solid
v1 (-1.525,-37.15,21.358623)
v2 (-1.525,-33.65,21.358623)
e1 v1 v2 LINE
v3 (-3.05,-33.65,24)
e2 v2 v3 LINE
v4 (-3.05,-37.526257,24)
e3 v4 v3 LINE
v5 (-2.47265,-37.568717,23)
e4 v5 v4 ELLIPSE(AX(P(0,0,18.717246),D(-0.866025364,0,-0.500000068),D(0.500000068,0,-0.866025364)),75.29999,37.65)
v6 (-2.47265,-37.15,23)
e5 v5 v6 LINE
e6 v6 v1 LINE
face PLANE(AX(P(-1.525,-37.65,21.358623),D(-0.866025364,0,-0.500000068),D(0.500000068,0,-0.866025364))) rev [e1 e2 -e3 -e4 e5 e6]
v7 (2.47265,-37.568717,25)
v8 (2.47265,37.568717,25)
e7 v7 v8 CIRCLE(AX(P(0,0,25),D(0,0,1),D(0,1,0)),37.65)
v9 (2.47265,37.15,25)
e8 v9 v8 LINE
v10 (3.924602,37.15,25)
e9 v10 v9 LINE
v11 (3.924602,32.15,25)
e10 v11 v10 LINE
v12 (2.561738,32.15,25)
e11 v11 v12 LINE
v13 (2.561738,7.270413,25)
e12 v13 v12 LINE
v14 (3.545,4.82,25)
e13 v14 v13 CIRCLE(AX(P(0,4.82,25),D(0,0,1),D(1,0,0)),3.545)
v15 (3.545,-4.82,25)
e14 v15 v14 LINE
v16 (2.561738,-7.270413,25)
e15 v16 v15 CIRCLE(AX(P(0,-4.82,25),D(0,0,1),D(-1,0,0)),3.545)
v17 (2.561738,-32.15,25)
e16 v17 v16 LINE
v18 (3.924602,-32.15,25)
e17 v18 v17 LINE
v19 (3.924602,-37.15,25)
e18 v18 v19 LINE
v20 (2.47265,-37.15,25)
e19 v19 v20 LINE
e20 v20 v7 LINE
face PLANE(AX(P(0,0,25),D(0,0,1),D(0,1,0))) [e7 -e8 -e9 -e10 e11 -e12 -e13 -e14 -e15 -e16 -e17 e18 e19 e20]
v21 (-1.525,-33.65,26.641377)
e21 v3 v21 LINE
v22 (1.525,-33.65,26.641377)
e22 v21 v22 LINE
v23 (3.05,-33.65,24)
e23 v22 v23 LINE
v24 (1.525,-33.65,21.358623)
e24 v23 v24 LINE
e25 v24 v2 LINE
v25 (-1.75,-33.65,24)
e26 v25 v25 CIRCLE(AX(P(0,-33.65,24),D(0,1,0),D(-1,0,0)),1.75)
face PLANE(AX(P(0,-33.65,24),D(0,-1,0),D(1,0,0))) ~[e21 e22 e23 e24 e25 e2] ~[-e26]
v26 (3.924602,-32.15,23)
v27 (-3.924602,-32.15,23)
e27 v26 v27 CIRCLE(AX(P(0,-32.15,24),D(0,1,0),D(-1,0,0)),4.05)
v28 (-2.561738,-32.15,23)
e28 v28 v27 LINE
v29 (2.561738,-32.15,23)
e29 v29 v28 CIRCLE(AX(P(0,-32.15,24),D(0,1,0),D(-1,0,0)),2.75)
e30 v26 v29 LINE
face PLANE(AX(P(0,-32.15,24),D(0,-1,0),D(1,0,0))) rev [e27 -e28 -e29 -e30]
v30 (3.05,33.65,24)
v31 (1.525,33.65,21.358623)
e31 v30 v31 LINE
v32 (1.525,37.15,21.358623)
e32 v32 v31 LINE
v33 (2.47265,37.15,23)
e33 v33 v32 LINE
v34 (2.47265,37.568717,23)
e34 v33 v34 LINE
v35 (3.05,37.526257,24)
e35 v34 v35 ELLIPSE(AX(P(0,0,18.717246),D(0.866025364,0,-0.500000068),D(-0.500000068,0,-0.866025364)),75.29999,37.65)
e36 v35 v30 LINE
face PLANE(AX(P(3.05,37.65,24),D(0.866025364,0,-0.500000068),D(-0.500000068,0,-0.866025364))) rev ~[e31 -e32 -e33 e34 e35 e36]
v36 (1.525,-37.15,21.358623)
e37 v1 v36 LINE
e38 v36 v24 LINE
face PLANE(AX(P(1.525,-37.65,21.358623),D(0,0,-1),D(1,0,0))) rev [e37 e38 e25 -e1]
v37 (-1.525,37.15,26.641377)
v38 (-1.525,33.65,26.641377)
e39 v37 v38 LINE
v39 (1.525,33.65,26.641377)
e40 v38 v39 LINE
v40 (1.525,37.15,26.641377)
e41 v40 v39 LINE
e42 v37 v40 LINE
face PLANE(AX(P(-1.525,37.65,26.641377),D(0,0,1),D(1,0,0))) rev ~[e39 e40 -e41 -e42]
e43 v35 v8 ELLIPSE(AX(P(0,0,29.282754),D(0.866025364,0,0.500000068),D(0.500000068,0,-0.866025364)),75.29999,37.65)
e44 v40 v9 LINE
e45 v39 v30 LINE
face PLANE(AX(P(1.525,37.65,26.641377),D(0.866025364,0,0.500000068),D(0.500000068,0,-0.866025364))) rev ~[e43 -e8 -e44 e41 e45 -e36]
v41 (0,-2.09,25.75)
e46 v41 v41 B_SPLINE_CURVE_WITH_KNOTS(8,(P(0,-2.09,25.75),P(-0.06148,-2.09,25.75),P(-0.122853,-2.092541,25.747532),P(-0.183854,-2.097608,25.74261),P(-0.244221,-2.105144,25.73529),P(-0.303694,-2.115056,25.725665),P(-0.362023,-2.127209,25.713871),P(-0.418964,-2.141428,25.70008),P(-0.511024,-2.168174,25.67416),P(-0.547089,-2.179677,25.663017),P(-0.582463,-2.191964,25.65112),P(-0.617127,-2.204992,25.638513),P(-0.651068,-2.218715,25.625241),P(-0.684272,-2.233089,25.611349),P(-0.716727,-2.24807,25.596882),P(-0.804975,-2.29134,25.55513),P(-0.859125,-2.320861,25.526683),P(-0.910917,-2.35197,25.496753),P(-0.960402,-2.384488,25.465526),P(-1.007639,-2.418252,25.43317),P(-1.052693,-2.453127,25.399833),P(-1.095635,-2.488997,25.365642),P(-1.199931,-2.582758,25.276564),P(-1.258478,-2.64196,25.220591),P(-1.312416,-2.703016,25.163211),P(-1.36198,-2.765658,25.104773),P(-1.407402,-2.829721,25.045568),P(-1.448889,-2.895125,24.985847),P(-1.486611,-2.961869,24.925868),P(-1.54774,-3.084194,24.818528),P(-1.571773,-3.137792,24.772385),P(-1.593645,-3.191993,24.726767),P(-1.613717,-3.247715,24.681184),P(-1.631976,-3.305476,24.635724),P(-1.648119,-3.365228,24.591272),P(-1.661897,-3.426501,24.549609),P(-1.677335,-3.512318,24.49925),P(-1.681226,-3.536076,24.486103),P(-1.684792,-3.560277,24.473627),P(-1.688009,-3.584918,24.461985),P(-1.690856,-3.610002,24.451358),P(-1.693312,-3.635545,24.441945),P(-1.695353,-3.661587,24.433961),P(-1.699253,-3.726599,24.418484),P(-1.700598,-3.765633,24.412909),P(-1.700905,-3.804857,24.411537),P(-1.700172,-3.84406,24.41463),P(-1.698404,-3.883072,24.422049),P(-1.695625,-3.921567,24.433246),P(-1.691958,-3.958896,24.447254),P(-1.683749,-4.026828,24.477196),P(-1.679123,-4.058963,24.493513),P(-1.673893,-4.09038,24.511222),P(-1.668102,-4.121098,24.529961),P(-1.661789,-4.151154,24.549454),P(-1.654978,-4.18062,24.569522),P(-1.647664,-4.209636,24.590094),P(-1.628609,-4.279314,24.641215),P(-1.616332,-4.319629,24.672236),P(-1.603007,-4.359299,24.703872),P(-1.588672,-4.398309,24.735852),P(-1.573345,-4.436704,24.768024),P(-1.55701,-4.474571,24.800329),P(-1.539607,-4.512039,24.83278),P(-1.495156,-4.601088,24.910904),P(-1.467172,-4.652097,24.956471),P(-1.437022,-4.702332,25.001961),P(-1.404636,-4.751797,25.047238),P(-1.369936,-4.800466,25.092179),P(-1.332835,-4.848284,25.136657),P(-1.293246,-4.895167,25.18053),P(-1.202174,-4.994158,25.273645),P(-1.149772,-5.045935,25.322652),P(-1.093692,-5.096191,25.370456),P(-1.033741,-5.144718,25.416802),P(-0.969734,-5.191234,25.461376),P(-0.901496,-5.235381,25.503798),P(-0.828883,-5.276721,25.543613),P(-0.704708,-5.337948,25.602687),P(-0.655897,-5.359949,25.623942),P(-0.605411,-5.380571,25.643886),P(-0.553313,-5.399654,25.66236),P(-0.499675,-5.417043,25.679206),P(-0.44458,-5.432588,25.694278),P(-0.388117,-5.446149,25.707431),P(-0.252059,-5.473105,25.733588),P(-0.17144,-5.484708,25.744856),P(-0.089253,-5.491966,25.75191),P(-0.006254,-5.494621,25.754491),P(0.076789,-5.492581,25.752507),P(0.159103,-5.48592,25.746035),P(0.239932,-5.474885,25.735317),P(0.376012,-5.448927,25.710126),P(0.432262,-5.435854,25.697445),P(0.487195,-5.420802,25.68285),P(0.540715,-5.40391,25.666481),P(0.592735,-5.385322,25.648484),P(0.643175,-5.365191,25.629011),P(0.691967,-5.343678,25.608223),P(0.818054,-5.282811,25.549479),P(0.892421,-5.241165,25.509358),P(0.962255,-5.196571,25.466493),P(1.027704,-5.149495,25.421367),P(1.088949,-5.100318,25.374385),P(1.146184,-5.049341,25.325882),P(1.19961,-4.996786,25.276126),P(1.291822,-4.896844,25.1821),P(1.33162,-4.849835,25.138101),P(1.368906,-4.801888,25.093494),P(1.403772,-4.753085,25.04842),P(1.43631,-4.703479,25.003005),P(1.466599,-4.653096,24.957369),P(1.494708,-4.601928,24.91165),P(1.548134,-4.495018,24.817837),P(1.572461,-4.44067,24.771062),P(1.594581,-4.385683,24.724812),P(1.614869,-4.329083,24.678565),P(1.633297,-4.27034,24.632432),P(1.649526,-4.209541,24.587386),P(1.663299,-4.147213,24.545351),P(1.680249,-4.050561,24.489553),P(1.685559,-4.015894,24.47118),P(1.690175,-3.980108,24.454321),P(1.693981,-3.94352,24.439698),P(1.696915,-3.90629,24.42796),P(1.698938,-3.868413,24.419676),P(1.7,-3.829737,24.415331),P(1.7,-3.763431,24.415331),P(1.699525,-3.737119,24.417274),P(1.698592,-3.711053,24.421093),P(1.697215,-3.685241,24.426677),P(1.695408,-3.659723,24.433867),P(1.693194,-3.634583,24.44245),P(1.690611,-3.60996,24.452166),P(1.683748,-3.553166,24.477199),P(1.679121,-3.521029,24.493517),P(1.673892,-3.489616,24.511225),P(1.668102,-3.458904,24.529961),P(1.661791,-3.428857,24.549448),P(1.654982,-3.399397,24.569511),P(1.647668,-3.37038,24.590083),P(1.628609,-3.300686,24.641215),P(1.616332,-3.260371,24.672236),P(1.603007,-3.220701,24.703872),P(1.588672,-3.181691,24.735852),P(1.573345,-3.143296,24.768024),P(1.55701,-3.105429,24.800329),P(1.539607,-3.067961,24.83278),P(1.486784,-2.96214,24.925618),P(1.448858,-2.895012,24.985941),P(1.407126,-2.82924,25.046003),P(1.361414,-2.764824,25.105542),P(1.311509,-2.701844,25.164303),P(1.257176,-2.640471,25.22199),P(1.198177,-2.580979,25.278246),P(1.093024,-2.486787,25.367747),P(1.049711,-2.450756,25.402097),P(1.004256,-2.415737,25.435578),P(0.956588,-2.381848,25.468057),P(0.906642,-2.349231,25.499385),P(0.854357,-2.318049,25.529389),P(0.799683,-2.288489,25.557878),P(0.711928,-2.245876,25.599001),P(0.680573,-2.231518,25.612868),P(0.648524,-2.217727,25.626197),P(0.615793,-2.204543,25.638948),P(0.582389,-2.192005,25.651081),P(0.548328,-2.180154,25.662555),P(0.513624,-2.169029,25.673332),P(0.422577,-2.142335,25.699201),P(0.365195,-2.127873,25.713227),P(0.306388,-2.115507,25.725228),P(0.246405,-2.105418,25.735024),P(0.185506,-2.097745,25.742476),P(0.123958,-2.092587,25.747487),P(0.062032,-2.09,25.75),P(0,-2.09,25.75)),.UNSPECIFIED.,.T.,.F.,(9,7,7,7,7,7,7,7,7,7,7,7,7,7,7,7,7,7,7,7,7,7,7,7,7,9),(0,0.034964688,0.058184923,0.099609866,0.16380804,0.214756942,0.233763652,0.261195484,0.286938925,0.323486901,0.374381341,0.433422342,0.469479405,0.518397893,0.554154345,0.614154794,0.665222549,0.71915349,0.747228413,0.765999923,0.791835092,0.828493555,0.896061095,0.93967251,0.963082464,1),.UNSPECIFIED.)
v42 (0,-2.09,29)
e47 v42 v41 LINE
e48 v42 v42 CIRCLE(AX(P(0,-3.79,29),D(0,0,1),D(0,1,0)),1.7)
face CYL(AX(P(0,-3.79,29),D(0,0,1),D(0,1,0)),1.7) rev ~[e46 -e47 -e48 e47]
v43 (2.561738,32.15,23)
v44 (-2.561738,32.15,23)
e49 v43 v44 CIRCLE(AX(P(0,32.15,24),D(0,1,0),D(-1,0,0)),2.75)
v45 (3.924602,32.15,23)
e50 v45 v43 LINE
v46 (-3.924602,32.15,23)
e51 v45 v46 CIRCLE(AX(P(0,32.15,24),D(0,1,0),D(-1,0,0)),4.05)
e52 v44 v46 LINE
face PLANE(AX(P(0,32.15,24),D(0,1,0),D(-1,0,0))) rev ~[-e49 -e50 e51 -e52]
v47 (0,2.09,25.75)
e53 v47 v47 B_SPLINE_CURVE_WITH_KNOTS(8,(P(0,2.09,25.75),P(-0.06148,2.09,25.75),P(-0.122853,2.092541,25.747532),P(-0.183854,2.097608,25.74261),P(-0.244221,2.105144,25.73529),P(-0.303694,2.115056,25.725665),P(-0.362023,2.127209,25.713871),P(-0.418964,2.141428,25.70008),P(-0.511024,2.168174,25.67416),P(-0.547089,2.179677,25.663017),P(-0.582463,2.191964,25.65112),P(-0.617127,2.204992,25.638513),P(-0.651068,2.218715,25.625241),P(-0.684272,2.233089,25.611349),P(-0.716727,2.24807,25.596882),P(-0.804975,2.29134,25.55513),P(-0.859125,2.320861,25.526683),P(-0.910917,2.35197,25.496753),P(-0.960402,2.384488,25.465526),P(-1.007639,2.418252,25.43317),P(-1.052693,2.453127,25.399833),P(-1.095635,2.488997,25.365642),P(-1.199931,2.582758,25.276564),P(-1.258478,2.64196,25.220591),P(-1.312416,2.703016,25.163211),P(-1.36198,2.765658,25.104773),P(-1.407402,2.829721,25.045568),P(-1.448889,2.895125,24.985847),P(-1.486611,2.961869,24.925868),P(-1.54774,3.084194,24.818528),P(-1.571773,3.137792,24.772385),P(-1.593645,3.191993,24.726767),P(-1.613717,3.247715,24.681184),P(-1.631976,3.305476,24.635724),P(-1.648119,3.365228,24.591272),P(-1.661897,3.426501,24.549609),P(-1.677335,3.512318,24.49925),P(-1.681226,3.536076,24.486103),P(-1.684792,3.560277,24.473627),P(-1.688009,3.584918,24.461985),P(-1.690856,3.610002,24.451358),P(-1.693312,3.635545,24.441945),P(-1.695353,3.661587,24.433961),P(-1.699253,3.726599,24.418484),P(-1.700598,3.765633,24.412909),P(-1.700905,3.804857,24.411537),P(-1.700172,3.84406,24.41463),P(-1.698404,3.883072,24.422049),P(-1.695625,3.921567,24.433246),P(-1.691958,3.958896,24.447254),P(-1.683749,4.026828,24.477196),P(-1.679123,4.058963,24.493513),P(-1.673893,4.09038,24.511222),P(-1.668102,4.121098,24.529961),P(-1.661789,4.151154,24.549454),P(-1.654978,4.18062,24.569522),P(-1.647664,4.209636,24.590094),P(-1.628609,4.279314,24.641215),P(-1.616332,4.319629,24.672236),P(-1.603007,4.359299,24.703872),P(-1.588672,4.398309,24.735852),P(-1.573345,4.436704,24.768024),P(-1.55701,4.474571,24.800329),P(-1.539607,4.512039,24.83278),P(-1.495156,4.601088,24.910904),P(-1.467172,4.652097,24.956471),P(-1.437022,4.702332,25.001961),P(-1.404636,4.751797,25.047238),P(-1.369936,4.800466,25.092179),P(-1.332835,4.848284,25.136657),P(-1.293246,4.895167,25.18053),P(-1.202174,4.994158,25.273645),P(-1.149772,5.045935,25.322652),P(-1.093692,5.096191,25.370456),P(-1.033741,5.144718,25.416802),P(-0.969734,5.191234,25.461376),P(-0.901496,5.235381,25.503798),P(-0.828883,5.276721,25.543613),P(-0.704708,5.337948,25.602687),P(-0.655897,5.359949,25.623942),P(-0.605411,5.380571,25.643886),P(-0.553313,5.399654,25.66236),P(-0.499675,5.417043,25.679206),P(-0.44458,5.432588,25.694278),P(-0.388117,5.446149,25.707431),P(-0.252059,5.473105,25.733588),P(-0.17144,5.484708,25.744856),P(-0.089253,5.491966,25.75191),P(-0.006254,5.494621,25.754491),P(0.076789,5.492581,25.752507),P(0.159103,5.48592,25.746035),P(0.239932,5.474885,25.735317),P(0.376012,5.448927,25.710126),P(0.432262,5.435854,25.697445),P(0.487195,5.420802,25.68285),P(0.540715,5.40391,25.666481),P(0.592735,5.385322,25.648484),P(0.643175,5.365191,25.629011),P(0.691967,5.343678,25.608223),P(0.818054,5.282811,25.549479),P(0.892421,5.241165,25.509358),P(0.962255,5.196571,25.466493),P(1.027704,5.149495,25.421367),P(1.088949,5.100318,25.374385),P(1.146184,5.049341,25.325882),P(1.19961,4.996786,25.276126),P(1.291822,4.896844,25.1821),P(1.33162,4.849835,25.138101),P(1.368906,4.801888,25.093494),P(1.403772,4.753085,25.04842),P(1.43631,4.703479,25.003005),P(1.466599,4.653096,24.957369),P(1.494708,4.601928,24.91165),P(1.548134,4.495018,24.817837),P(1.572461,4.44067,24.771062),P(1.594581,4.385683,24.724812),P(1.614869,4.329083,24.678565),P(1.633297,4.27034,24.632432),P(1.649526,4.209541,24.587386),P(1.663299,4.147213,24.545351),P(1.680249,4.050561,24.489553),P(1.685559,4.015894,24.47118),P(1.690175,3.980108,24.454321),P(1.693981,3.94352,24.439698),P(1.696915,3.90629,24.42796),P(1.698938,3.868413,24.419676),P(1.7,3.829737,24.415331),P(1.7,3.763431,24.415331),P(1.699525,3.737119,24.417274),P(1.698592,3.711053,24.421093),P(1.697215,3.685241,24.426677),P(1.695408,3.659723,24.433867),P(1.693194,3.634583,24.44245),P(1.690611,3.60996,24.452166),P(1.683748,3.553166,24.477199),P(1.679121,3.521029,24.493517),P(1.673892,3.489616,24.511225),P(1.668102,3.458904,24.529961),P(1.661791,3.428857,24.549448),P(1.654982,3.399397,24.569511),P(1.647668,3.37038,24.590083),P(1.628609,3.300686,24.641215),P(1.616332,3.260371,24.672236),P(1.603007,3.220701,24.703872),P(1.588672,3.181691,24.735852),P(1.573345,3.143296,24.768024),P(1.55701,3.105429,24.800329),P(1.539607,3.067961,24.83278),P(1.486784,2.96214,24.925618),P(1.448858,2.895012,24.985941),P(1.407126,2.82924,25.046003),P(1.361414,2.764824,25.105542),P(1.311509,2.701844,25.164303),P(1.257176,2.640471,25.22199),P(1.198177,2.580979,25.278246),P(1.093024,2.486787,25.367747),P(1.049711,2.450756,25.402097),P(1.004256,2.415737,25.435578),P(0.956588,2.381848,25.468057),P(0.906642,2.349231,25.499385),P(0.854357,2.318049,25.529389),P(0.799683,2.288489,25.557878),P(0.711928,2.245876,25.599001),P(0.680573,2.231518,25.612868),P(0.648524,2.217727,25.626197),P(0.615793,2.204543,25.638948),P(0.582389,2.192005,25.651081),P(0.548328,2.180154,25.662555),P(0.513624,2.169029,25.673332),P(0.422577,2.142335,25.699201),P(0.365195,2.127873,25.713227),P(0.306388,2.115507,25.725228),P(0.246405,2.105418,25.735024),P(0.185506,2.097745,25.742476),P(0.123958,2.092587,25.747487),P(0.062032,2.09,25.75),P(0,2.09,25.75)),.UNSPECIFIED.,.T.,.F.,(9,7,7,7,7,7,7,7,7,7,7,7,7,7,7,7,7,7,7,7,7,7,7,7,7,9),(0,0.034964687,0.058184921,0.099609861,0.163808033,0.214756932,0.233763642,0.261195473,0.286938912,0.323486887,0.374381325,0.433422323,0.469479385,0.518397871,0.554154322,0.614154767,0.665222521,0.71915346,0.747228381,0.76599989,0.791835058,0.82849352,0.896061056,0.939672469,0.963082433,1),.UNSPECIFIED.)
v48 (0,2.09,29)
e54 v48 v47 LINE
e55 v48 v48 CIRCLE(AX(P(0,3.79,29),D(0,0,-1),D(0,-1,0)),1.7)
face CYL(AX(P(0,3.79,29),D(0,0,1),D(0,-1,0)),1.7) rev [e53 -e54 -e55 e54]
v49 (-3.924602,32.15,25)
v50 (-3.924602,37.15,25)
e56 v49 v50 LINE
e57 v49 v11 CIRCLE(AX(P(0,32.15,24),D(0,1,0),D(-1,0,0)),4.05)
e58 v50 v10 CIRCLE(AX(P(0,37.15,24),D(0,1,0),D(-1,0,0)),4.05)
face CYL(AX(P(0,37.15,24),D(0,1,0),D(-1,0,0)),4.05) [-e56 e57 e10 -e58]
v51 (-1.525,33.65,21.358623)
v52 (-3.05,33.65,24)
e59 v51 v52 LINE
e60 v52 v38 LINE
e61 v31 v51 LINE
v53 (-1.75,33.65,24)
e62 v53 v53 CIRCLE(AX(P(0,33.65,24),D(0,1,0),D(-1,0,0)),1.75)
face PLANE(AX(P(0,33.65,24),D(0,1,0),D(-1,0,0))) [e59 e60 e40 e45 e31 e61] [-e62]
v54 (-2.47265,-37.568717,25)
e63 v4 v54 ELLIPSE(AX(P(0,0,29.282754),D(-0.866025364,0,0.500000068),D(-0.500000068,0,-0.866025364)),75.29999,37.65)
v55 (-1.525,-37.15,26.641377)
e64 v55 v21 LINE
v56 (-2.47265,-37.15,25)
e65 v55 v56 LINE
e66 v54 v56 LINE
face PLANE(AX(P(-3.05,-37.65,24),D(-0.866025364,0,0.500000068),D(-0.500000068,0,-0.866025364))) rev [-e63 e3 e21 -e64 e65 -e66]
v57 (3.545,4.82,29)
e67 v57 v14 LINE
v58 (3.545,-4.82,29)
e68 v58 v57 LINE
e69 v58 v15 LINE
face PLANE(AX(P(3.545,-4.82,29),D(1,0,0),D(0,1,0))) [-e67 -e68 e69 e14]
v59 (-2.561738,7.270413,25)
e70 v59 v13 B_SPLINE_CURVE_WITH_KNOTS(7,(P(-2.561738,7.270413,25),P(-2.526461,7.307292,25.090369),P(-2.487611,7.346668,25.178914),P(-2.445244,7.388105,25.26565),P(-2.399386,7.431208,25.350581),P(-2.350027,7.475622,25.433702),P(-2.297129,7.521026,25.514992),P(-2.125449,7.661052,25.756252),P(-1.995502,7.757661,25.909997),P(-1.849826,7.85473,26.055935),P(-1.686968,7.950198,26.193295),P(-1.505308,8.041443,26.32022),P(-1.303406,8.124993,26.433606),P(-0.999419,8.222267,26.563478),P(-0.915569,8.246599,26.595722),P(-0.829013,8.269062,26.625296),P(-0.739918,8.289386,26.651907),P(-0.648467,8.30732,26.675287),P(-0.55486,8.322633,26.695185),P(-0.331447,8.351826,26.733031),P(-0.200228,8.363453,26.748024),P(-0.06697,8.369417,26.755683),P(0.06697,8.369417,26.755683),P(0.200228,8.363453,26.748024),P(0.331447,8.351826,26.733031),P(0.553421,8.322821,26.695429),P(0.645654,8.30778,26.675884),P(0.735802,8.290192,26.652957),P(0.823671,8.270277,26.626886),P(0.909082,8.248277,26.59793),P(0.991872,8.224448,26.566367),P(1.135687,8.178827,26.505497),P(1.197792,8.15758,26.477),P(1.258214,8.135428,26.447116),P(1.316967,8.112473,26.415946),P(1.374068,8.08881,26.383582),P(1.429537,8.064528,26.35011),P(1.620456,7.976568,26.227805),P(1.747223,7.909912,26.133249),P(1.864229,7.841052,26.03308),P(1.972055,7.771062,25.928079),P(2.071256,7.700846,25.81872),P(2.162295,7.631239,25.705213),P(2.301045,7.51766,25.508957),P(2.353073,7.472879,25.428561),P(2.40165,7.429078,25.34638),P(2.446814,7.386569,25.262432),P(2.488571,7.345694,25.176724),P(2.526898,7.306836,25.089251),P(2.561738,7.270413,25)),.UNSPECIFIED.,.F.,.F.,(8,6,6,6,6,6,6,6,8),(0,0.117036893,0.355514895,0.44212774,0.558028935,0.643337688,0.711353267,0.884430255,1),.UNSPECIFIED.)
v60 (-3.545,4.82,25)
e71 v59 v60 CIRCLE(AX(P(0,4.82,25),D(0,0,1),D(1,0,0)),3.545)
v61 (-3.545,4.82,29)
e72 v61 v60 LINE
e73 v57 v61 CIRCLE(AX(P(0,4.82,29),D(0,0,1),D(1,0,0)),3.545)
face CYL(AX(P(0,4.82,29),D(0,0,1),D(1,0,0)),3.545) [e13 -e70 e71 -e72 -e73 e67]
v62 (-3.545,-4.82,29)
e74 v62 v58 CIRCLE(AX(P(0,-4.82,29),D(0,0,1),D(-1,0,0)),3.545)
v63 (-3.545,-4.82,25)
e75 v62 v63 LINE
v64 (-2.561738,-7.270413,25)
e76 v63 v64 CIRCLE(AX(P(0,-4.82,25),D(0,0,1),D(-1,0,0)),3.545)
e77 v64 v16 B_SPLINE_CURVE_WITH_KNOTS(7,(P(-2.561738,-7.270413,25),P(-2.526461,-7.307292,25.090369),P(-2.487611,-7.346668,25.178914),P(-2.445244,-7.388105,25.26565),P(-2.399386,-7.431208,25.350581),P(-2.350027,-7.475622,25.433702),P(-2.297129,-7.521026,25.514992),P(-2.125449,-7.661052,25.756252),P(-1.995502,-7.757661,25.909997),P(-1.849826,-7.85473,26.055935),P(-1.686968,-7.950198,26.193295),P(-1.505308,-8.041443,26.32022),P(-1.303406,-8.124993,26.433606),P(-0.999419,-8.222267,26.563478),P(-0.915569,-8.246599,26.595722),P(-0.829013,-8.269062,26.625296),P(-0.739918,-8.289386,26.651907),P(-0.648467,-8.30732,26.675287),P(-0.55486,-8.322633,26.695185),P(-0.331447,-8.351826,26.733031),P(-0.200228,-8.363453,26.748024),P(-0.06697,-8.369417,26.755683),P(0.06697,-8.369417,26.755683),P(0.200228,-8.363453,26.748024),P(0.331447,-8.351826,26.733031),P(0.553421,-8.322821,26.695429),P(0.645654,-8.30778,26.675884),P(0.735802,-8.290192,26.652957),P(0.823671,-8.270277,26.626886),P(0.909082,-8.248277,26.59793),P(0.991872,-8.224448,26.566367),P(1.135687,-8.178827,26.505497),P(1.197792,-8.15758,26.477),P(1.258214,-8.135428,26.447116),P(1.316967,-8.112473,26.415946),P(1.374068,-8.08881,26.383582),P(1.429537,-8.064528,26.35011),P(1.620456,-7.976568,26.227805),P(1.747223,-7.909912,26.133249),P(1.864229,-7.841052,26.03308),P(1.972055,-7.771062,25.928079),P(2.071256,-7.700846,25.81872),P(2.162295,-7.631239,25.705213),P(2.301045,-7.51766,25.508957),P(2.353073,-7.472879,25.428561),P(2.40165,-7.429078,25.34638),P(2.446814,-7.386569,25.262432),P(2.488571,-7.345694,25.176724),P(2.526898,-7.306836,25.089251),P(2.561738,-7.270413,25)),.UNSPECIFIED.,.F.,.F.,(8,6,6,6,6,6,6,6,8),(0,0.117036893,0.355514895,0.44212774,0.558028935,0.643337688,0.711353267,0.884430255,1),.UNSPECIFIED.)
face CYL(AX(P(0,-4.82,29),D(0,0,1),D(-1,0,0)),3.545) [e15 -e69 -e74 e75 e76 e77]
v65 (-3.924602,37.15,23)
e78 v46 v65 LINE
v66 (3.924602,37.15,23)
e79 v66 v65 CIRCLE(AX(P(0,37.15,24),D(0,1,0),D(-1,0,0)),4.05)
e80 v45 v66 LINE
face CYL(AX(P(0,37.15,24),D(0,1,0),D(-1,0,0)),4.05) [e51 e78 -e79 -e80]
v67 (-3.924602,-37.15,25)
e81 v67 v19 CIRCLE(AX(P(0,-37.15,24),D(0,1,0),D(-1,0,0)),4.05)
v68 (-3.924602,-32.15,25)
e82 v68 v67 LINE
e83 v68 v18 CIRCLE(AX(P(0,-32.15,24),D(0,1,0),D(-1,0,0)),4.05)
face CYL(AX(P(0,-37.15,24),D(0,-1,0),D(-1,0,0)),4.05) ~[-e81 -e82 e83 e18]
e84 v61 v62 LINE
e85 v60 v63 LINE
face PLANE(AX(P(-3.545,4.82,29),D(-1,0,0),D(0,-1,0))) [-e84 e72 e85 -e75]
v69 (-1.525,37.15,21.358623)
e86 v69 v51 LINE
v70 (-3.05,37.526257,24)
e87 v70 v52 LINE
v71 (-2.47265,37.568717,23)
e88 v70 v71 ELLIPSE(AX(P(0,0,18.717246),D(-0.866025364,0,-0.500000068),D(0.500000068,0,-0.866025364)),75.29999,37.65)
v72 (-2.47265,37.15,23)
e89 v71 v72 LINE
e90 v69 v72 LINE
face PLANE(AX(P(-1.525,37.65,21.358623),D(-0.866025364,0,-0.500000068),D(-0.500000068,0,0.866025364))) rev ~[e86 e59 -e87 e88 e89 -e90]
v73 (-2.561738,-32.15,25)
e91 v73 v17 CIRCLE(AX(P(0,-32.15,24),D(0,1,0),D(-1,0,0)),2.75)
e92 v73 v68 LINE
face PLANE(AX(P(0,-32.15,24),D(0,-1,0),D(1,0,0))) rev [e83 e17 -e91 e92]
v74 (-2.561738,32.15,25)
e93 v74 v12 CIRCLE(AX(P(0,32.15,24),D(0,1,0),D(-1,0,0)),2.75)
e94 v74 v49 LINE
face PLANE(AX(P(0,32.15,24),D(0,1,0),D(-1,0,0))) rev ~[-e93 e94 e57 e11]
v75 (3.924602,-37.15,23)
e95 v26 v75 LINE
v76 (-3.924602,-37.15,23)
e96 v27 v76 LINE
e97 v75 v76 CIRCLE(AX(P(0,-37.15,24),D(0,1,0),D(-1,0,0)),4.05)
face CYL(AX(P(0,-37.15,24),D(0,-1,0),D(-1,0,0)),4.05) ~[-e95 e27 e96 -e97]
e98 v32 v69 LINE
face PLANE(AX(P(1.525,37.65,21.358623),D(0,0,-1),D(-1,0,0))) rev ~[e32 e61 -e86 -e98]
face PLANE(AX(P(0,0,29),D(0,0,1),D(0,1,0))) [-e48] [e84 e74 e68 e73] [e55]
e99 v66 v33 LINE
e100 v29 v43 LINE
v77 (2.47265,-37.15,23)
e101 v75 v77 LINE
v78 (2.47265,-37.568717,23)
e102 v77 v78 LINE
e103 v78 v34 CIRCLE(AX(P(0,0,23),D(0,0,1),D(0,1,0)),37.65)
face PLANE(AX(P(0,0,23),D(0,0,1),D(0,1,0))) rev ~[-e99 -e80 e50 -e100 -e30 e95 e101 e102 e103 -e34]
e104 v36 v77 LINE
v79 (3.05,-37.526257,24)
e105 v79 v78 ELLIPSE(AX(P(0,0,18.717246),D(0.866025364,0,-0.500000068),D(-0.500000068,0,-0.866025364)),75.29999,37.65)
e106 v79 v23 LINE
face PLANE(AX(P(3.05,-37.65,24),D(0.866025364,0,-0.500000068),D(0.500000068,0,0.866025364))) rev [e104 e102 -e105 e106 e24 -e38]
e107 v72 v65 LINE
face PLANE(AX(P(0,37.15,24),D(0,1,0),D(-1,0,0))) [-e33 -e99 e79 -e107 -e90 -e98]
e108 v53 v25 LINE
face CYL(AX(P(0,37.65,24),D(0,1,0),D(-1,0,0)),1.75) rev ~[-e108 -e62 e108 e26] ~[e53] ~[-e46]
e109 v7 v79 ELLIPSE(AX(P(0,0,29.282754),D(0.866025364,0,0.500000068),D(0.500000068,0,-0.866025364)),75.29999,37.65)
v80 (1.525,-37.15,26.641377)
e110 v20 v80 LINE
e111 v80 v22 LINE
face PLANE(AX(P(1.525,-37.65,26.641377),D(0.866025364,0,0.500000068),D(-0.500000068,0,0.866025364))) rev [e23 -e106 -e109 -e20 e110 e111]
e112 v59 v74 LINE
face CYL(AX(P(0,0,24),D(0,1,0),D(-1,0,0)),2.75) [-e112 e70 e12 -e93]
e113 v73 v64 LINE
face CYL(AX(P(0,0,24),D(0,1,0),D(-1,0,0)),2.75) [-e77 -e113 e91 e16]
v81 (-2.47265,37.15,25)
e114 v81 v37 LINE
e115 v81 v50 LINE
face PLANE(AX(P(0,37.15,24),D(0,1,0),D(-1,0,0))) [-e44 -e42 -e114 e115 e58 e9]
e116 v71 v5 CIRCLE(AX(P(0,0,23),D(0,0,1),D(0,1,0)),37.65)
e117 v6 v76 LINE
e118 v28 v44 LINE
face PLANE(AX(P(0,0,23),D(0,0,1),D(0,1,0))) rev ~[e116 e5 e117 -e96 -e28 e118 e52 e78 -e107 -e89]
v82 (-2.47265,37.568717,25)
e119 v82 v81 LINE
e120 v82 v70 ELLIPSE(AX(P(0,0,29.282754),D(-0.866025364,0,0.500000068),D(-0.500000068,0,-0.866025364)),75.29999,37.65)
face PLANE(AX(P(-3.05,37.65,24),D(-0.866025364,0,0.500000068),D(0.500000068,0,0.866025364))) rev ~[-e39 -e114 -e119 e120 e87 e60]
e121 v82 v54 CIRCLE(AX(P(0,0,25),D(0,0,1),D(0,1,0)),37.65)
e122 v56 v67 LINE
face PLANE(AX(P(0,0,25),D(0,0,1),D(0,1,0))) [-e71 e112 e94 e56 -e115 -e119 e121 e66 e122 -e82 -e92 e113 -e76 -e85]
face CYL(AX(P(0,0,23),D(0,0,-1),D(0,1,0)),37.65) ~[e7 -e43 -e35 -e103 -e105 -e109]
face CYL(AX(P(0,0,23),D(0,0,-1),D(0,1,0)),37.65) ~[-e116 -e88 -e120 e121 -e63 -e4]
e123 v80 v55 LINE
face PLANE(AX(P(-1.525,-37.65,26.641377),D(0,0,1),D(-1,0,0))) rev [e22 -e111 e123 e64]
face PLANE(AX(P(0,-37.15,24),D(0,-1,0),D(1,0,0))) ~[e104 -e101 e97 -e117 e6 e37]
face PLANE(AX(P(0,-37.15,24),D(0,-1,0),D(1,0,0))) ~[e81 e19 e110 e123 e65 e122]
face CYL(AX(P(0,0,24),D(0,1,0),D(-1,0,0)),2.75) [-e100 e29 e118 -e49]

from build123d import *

# Parameters (mm, degrees)
SKETCH004_R             = 37.65
PAD002_DEPTH            = 2
SKETCH005_R             = 2.75
SKETCH005_R_2           = 1.75
PAD003_DEPTH            = 32.65
SKETCH007_R             = 4.05
PAD004_DEPTH            = 5
POCKET_DEPTH            = 4
PAD014_DEPTH            = 4
SKETCH006_R             = 1.75
POCKET003012_DEPTH      = 75.219717
SKETCH036_R             = 1.7
POCKET003013_DEPTH      = 5
BODY001_PLACEMENT_ANGLE = 90


with BuildPart() as part:
    # Sketch004 → Pad002 (new body)
    with BuildSketch(Plane.XY):
        Circle(SKETCH004_R)
    extrude(amount=PAD002_DEPTH)

    # Sketch005 → Pad003 (join, symmetric)
    with BuildSketch(Plane(origin=(0, 0, 1), x_dir=(0, 1, 0), z_dir=(1, 0, 0))):
        Circle(SKETCH005_R)
        Circle(SKETCH005_R_2, mode=Mode.SUBTRACT)
    extrude(amount=PAD003_DEPTH, both=True)

    # Sketch007 → Pad004 (join)
    with BuildSketch(Plane(origin=(37.15, 0, 1), x_dir=(0, 1, 0), z_dir=(1, 0, 0))):
        Circle(SKETCH007_R)
    pad004 = extrude(amount=-PAD004_DEPTH)

    # Mirrored: Pad004 across YZ
    add(pad004.mirror(Plane.YZ))

    # Sketch008 → Pocket (cut)
    with BuildSketch(Plane(origin=(37.65, 0, 1), x_dir=(0, 1, 0), z_dir=(1, 0, 0))):
        Polygon((1.525, -2.641377), (3.05, 0), (1.525, 2.641377), (-1.525, 2.641377), (-3.05, 0), (-1.525, -2.641377), align=None)
    pocket = extrude(amount=-POCKET_DEPTH, mode=Mode.SUBTRACT)

    # Mirrored001: Pocket across YZ
    add(pocket.mirror(Plane.YZ), mode=Mode.SUBTRACT)

    # Sketch035 → Pad014 (join)
    with BuildSketch(Plane.XY.offset(6)):
        with BuildLine():
            ThreePointArc((-4.82, 3.545), (-8.365, 0), (-4.82, -3.545))
            Line((-4.82, -3.545), (4.82, -3.545))
            ThreePointArc((4.82, -3.545), (8.365, 0), (4.82, 3.545))
            Line((4.82, 3.545), (-4.82, 3.545))
        make_face()
    extrude(amount=-PAD014_DEPTH)

    # Sketch006 → Pocket003012 (cut, through all)
    with BuildSketch(Plane(origin=(37.65, 0, 1), x_dir=(0, 1, 0), z_dir=(1, 0, 0))):
        Circle(SKETCH006_R)
    extrude(amount=-POCKET003012_DEPTH, mode=Mode.SUBTRACT)

    # Sketch036 → Pocket003013 (cut)
    with BuildSketch(Plane.XY.offset(6)):
        with Locations((-3.79, 0)):
            Circle(SKETCH036_R)
    pocket003013 = extrude(amount=-POCKET003013_DEPTH, mode=Mode.SUBTRACT)

    # Mirrored002: Pocket003013 across Sketch036 V_Axis
    add(pocket003013.mirror(Plane(origin=(0, 0, 6), x_dir=(0, 0, 1), z_dir=(1, 0, 0))), mode=Mode.SUBTRACT)


with BuildPart() as part_1:
    # Body001 placement: moved
    add(part.part.moved(Location((0, 0, 23))).rotate(Axis((0, 0, 23), (0, 0, 1)), BODY001_PLACEMENT_ANGLE))


solid = part_1.part
